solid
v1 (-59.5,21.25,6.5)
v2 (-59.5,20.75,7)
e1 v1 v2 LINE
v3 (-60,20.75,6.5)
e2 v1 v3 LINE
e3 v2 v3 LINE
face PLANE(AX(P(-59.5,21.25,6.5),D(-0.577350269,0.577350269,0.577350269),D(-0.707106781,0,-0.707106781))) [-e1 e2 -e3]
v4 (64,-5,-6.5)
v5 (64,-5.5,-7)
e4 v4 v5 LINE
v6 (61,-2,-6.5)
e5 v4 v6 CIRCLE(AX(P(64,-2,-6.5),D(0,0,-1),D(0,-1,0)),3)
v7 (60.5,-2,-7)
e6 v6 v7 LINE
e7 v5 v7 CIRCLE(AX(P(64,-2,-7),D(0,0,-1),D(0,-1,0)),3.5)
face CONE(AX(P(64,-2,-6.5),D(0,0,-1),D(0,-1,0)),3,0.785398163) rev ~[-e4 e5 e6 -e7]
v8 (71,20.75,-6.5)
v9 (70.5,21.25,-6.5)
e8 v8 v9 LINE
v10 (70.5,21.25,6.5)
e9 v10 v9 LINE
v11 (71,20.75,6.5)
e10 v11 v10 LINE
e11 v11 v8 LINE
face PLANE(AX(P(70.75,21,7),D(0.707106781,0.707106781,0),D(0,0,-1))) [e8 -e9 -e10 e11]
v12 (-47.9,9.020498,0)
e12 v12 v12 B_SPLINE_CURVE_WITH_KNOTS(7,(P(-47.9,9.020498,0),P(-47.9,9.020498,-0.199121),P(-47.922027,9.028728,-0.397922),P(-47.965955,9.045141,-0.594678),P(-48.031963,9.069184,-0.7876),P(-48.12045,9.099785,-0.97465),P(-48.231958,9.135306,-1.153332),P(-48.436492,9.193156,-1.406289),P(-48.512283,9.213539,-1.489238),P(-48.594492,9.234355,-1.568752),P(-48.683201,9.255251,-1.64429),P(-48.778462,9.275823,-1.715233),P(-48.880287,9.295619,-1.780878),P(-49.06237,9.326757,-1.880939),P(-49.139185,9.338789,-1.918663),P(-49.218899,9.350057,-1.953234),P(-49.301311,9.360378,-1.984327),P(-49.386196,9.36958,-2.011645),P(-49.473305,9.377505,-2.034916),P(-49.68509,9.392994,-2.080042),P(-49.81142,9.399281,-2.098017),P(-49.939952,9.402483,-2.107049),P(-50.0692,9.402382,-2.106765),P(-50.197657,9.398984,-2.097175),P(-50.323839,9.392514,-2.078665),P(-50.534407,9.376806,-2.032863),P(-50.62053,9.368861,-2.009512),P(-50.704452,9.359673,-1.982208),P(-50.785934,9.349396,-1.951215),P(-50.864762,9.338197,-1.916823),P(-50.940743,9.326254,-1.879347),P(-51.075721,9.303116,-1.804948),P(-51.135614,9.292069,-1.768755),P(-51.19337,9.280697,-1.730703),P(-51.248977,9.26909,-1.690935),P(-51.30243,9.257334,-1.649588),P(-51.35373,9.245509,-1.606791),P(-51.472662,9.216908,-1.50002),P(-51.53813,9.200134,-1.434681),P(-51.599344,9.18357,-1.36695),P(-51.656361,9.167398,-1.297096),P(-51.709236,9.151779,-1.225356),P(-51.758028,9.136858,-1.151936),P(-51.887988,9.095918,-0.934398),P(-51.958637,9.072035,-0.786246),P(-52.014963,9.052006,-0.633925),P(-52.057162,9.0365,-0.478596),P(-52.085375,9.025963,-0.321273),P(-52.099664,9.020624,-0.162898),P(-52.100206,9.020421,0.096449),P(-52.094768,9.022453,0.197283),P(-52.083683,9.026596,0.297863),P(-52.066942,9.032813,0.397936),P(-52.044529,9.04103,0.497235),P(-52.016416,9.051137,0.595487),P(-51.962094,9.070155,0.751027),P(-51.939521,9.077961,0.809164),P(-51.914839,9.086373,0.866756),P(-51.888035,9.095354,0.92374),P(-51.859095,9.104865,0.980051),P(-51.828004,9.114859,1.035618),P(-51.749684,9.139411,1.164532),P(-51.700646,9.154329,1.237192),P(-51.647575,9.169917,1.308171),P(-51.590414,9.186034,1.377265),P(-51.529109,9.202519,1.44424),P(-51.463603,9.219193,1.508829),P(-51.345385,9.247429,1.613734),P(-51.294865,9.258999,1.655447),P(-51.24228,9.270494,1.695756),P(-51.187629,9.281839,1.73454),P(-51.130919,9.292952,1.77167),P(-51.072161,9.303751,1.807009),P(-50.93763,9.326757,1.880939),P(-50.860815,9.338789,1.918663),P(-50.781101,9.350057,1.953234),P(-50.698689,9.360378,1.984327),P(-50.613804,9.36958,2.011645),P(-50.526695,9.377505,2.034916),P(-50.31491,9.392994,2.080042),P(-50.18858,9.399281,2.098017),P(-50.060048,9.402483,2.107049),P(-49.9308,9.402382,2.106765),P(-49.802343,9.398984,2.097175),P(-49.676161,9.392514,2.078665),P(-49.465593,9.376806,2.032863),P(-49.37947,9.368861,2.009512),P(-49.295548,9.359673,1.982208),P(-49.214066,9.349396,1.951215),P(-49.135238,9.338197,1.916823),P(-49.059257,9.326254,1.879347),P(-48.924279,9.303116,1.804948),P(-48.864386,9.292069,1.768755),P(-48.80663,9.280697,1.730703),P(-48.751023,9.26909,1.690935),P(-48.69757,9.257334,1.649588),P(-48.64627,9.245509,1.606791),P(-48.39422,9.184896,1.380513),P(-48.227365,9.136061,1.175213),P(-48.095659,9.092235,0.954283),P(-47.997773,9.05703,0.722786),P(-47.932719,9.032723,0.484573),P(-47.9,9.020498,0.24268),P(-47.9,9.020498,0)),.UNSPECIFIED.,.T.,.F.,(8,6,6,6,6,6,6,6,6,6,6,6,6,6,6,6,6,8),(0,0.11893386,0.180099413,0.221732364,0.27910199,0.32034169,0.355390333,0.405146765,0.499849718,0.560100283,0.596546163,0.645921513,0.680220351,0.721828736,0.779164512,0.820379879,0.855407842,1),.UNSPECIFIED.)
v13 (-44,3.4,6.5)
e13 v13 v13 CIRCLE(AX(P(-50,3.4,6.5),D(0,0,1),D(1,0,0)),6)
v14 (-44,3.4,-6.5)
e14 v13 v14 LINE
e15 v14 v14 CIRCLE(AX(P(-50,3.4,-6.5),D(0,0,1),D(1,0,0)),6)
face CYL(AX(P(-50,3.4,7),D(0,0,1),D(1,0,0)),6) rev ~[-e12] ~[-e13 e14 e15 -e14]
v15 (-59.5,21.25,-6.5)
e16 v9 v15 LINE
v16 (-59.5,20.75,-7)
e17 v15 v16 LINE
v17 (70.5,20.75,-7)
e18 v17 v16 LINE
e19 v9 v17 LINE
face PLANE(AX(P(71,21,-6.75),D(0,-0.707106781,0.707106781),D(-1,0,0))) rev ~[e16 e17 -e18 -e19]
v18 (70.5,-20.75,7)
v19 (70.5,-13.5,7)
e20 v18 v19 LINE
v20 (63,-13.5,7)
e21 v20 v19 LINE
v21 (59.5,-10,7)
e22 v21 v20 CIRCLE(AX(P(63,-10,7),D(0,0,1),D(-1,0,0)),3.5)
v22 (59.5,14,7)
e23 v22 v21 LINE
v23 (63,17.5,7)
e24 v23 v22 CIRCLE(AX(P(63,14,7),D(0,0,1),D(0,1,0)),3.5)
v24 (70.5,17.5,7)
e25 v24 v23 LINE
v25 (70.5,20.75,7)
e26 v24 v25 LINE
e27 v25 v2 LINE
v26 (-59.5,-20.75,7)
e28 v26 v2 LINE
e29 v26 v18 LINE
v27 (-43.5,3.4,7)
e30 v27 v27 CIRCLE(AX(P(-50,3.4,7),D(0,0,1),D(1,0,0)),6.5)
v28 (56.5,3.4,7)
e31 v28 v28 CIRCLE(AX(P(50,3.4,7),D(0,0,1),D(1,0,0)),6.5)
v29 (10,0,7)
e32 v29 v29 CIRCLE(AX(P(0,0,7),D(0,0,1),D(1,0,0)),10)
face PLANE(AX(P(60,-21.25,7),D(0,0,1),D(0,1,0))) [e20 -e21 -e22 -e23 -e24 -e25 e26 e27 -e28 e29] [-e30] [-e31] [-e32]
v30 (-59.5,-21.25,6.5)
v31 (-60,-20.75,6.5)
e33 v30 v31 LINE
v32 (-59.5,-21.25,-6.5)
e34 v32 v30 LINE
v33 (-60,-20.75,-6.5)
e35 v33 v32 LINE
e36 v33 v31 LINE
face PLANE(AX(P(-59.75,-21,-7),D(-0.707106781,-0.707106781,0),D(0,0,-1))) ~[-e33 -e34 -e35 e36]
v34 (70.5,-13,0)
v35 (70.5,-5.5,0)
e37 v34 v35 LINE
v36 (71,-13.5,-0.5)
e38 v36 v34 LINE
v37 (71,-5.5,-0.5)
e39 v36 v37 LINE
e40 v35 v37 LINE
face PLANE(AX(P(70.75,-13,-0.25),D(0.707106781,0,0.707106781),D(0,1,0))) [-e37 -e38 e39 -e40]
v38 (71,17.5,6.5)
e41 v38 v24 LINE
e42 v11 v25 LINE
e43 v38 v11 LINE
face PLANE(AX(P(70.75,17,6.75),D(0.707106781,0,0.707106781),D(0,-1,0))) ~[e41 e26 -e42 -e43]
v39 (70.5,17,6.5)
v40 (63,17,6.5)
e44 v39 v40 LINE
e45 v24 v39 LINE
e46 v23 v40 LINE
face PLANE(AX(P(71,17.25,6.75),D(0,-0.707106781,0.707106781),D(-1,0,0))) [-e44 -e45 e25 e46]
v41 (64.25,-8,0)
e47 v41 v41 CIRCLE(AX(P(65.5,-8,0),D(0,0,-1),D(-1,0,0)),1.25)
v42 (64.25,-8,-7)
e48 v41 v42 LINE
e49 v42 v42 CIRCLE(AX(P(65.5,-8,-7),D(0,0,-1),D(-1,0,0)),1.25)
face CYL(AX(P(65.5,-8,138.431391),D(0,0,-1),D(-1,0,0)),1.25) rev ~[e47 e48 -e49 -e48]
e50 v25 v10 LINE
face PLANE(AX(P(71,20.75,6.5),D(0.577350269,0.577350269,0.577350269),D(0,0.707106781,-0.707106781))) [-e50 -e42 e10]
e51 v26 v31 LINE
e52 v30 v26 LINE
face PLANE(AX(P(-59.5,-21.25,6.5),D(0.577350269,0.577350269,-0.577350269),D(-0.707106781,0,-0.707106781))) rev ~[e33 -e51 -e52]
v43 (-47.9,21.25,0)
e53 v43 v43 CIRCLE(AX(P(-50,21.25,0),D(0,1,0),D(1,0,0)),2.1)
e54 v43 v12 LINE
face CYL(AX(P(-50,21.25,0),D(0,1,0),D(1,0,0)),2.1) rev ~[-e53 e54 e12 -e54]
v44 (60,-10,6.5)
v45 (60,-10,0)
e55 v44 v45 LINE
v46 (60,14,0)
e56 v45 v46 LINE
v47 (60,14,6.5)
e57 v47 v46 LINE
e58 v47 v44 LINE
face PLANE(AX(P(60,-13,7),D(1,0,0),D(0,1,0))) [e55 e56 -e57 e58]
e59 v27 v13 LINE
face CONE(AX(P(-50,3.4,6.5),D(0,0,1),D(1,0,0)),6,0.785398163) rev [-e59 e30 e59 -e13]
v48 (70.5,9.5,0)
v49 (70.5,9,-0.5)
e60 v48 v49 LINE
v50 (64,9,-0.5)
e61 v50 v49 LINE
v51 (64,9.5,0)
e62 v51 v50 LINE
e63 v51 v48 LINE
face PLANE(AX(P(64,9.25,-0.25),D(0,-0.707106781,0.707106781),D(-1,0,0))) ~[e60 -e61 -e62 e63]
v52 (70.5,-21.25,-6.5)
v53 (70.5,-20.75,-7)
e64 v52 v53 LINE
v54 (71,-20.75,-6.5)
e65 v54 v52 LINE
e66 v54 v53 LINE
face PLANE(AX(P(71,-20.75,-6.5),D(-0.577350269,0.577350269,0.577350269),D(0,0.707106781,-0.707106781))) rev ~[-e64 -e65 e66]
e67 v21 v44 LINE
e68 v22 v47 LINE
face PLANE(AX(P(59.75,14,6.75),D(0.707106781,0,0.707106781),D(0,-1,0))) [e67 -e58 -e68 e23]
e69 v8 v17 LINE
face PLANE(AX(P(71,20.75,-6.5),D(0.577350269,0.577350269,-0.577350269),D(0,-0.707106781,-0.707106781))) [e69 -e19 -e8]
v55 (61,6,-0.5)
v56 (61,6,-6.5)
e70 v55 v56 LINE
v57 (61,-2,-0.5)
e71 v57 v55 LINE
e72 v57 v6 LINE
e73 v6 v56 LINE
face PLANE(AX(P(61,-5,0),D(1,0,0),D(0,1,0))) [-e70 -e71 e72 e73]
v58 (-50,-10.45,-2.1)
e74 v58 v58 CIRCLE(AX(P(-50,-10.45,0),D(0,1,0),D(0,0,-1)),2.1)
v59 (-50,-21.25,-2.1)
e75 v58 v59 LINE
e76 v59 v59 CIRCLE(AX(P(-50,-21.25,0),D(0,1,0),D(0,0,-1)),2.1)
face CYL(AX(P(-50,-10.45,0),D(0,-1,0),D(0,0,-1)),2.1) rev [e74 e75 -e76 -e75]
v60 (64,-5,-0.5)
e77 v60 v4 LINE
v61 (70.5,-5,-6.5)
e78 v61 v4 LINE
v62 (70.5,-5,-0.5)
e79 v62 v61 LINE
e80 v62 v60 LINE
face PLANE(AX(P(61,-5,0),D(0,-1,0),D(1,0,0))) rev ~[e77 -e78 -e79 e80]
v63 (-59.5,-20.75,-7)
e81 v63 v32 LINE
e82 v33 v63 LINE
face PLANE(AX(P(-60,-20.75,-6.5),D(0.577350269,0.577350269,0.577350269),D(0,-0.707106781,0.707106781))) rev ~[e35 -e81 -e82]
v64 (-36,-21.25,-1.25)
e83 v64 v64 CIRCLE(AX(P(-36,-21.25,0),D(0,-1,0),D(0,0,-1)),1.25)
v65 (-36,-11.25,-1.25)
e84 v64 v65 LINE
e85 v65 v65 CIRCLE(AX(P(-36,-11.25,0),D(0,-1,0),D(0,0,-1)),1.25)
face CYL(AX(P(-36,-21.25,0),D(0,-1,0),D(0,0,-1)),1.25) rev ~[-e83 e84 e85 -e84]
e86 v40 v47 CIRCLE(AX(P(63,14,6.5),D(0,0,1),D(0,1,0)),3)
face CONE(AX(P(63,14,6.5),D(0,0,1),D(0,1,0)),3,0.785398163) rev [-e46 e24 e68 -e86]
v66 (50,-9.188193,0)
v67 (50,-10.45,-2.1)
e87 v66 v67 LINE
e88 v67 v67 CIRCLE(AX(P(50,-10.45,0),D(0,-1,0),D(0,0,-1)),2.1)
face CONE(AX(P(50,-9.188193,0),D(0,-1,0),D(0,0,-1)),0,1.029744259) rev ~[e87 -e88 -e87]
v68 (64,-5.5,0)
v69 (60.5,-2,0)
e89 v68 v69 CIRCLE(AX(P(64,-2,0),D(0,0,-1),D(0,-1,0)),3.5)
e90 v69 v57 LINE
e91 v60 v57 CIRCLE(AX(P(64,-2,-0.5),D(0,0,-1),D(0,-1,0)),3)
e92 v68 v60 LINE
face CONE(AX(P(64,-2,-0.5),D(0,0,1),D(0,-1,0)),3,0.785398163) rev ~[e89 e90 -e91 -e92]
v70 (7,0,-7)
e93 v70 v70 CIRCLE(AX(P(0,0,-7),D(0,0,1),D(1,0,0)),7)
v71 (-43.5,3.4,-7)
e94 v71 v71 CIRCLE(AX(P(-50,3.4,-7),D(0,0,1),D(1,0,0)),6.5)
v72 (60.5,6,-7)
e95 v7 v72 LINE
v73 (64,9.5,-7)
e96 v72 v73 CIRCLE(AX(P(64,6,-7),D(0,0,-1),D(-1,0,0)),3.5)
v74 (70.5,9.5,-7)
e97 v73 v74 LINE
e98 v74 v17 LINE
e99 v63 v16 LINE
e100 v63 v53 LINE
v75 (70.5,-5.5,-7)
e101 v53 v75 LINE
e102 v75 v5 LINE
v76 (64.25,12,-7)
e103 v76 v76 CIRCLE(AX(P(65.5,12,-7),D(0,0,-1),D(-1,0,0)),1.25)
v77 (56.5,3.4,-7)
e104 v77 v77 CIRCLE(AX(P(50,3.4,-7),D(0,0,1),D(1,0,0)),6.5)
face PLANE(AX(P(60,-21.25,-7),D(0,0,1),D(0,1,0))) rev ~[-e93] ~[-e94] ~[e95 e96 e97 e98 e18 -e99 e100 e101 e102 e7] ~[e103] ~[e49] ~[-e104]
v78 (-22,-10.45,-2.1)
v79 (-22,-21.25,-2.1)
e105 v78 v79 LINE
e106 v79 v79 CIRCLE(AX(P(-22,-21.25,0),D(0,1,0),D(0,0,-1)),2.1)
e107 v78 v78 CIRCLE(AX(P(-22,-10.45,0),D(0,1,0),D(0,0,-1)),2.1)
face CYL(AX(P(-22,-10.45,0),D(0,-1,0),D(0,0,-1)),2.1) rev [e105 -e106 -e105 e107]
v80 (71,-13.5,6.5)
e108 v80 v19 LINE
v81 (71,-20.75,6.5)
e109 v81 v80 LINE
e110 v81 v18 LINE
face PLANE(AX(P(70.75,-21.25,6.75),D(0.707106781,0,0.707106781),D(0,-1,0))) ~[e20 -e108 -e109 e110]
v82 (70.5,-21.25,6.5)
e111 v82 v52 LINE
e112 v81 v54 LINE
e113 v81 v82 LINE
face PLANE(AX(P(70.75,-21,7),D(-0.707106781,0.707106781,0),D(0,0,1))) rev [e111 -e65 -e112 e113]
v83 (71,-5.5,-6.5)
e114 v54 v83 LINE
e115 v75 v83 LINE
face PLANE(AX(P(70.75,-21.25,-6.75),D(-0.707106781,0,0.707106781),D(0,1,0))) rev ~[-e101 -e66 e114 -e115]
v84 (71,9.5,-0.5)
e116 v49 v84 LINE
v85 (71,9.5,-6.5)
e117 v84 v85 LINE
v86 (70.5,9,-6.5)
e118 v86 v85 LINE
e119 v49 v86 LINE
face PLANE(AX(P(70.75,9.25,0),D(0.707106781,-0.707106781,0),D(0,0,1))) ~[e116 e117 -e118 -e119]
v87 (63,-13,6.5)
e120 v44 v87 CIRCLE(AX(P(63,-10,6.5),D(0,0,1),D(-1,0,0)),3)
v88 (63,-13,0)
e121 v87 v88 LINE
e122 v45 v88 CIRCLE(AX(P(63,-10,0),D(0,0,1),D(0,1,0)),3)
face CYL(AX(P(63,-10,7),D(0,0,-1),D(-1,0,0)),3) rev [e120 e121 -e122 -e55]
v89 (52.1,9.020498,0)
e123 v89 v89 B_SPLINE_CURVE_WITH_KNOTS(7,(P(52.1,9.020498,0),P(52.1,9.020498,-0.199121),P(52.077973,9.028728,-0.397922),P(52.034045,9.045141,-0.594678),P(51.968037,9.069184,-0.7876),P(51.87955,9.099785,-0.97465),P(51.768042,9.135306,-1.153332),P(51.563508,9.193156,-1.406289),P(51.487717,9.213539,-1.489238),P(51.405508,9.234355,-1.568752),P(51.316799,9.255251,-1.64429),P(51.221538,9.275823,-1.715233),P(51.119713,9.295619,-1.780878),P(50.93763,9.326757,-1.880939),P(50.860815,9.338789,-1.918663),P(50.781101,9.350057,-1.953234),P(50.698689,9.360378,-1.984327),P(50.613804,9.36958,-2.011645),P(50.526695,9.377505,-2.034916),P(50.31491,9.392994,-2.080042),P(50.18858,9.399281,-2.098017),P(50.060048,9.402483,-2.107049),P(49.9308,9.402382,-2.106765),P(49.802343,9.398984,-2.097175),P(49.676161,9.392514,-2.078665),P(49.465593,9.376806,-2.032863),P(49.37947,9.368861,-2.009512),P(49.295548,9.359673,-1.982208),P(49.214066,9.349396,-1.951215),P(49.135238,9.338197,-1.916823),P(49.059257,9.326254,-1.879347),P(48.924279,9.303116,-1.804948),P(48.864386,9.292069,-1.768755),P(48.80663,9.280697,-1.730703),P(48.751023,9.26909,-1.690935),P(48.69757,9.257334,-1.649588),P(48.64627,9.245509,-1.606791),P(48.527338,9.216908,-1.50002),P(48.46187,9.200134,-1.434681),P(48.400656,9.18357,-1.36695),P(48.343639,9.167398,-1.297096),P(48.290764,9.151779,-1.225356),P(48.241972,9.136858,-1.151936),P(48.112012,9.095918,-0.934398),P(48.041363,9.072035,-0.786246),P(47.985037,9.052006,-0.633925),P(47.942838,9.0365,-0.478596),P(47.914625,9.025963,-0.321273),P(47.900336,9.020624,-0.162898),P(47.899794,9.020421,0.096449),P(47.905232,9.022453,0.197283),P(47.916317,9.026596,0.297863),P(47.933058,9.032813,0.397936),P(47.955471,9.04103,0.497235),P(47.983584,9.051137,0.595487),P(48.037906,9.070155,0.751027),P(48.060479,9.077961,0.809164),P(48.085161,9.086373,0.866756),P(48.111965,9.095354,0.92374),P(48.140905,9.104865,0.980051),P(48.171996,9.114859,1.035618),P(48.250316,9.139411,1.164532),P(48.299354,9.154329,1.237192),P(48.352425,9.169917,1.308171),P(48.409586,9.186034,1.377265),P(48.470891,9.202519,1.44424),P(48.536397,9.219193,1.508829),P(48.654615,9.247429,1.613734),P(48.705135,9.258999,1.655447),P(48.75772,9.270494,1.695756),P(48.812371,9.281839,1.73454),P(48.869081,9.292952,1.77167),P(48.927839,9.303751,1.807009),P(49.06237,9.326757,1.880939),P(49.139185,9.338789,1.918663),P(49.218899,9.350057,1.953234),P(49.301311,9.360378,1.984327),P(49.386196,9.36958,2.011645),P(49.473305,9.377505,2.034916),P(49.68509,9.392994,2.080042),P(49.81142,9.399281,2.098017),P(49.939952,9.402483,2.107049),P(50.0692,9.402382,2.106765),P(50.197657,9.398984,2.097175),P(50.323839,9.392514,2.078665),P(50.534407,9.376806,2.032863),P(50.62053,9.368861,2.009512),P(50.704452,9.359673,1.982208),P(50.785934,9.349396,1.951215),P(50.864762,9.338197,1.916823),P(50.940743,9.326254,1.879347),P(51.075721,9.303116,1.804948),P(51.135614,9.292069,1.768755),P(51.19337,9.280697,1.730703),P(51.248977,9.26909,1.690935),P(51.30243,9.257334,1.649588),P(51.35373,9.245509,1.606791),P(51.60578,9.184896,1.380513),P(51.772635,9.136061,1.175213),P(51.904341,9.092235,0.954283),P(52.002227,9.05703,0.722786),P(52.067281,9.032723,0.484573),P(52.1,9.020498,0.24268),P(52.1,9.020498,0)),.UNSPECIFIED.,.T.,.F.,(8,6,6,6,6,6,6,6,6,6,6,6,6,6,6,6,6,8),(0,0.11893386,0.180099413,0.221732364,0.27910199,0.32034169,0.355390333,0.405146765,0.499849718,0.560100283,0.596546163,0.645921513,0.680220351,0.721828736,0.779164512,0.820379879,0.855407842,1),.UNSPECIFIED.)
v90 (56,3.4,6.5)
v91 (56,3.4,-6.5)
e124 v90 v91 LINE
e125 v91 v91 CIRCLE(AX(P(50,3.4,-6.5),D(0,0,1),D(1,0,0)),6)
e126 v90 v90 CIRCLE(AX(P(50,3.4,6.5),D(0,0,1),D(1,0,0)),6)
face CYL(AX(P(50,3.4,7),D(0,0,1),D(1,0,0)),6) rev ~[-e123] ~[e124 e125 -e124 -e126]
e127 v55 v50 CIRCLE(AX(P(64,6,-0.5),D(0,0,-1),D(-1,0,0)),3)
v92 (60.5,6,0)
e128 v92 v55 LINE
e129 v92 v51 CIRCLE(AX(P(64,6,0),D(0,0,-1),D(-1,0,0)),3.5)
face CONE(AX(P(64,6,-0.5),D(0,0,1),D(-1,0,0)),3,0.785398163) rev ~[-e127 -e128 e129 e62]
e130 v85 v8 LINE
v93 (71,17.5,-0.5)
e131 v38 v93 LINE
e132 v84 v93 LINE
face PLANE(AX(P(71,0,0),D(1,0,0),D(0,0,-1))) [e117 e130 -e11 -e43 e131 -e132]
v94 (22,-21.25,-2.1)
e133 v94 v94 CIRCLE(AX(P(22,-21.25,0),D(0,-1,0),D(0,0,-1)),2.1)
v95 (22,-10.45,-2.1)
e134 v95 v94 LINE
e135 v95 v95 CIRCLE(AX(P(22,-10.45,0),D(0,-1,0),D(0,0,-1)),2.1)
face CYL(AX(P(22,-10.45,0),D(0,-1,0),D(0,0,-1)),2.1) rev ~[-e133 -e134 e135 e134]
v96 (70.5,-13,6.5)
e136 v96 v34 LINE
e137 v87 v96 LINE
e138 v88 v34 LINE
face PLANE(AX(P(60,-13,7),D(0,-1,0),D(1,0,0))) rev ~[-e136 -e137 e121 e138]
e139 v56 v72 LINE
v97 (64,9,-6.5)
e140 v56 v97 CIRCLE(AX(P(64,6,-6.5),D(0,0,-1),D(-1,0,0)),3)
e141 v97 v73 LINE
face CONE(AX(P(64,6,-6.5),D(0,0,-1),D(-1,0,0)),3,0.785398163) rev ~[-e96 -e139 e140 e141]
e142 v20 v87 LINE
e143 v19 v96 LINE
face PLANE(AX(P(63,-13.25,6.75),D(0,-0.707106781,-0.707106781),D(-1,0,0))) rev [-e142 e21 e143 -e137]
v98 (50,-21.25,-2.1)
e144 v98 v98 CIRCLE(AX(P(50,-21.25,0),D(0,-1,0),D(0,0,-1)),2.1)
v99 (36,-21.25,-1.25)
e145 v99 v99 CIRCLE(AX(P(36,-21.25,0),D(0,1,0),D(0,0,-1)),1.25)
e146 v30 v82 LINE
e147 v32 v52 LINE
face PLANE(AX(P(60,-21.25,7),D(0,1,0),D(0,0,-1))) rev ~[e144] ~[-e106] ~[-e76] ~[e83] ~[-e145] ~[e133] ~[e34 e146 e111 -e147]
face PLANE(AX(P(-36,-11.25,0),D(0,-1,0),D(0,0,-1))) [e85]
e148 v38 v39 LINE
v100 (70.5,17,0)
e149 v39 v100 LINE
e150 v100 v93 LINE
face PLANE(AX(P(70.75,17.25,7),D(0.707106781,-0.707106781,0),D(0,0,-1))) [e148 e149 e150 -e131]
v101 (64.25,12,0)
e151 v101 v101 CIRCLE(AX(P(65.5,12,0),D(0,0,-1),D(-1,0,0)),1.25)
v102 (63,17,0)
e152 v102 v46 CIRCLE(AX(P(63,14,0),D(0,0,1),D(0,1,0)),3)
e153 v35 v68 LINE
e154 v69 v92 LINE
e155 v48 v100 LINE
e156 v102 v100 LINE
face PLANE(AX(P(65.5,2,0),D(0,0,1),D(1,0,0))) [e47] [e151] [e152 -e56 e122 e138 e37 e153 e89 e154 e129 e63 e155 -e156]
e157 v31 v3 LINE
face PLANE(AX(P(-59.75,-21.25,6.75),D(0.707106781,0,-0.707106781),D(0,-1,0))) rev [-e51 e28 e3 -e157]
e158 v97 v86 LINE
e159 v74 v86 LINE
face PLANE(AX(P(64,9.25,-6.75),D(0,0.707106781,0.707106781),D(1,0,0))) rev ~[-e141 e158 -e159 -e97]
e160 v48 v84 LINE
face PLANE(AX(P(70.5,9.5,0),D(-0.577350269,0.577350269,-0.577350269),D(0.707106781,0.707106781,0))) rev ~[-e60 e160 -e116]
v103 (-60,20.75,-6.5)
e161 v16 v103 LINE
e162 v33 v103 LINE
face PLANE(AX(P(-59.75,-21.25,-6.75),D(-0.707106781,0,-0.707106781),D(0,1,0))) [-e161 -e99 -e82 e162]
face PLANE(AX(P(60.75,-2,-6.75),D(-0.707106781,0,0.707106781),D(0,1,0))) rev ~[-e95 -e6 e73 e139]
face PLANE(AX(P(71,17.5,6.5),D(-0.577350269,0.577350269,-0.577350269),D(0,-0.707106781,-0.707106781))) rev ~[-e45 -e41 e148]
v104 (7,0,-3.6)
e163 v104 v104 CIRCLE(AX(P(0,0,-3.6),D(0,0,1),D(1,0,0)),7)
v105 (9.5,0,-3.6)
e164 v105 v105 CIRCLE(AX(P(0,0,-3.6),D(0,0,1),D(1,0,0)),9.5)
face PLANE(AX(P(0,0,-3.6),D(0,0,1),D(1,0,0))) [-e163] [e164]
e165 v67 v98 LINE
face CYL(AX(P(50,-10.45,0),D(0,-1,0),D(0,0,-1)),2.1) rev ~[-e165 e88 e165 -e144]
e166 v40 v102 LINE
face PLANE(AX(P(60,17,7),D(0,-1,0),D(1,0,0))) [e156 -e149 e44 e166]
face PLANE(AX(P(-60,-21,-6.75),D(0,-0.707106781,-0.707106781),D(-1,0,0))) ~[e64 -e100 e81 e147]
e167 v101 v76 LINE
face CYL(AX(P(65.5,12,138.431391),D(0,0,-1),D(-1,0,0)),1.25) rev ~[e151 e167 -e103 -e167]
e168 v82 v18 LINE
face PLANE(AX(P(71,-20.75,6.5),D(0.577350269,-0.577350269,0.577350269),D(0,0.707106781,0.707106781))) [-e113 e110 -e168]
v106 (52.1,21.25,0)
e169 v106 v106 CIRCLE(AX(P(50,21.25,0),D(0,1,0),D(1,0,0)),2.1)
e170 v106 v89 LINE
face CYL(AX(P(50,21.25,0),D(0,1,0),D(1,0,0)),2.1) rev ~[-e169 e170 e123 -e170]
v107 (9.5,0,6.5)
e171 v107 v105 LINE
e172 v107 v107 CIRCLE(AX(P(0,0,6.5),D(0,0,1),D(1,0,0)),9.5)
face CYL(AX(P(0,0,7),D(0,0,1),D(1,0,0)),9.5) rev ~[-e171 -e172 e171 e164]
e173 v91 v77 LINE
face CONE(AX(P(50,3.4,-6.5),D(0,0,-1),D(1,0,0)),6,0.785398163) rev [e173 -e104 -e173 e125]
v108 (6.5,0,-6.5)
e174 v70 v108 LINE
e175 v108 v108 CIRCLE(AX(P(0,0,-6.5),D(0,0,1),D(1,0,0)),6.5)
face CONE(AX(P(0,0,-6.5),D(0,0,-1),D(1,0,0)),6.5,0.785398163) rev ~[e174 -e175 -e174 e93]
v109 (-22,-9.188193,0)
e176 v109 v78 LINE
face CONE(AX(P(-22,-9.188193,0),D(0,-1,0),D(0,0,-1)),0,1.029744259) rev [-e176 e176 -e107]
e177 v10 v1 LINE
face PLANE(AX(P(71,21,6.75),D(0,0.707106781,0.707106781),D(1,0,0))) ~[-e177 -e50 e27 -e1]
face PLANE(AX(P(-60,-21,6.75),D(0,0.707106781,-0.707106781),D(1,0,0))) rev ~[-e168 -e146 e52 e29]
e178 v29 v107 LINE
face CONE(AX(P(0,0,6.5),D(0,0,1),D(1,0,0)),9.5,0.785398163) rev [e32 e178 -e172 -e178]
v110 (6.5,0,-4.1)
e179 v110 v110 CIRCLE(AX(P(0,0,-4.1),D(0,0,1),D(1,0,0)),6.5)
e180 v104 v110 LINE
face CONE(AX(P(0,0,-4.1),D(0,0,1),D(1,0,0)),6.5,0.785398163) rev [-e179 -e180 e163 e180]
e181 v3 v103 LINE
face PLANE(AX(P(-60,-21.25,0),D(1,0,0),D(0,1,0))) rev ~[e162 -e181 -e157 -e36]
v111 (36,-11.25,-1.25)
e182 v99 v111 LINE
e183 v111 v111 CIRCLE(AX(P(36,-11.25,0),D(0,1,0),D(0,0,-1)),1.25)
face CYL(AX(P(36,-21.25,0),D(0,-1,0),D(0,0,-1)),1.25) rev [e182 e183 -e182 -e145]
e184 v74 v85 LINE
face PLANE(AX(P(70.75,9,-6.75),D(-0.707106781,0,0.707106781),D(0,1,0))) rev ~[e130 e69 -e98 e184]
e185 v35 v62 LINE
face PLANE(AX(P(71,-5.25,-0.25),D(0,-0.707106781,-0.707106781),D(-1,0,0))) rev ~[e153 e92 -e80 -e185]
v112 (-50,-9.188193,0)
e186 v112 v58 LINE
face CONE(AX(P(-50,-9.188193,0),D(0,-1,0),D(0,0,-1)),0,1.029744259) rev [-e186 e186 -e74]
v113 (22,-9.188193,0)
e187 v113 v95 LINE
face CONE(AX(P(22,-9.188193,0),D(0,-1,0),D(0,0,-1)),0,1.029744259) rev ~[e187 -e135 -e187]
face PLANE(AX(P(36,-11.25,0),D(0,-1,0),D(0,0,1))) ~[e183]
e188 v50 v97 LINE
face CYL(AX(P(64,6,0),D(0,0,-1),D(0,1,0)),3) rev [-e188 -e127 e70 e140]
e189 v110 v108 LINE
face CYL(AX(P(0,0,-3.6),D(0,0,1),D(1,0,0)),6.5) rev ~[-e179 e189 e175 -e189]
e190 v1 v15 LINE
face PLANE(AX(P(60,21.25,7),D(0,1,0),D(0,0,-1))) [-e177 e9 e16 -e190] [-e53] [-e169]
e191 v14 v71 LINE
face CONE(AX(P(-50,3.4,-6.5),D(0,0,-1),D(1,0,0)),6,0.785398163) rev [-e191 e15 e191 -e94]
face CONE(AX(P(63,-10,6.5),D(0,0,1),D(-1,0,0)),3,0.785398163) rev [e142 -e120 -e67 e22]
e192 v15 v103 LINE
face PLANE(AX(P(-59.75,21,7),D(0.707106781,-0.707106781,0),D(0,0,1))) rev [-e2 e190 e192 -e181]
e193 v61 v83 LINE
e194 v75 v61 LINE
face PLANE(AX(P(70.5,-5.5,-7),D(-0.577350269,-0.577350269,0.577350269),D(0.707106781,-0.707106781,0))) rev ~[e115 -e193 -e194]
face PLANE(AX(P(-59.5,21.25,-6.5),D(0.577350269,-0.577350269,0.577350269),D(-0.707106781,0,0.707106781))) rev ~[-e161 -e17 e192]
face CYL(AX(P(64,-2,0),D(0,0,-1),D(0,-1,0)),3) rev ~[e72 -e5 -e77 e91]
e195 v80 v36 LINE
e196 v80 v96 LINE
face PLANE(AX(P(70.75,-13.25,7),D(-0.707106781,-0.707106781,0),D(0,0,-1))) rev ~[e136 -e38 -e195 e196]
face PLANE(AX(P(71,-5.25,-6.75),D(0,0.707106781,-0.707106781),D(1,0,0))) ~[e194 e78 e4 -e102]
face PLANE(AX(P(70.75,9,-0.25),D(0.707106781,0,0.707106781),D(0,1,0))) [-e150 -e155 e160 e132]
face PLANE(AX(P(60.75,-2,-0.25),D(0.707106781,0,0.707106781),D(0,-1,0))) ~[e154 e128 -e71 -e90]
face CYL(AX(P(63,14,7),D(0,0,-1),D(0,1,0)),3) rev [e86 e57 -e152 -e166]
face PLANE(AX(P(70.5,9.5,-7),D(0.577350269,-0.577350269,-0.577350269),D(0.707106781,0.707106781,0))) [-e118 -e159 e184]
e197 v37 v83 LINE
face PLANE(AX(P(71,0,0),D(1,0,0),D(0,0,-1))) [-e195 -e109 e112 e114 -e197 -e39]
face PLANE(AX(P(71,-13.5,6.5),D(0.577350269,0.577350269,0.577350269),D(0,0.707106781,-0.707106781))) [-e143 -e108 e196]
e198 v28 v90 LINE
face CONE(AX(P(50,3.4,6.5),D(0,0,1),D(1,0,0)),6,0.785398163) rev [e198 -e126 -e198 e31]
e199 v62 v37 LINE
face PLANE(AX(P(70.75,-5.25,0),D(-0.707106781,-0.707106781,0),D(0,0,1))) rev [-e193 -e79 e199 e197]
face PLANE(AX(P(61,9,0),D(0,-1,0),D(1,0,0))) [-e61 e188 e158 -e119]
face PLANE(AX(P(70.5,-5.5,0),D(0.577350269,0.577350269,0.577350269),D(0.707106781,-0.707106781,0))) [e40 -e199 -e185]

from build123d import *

# Parameters (mm, degrees)
SKETCH1_W                      = 120
SKETCH1_H                      = 42.5
BOSS_EXTRUDE1_DEPTH            = 7
SKETCH2_R                      = 9.5
CUT_EXTRUDE1_DEPTH             = 10.6
SKETCH3_R                      = 6.5
CUT_EXTRUDE2_DEPTH             = 65.528462712
SKETCH5_R                      = 6
CUT_EXTRUDE4_DEPTH             = 66.173326599
M5X0_8_TAPPED_HOLE1_AT_2_COUNT = 2
M5X0_8_TAPPED_HOLE1_AT_2_PITCH = 28
SKETCH19_R                     = 1.25
CUT_EXTRUDE7_DEPTH             = 10
M5X0_8_TAPPED_HOLE2_REACH      = 75.86
M5X0_8_TAPPED_HOLE2_BORE_R     = 2.1
SKETCH14_W                     = 14
SKETCH14_H                     = 42.5
BOSS_EXTRUDE2_DEPTH            = 11
SKETCH15_W                     = 11
SKETCH15_H                     = 30
CUT_EXTRUDE5_DEPTH             = 7
SKETCH16_W                     = 10
SKETCH16_H                     = 14
CUT_EXTRUDE6_DEPTH             = 75.441671835
FILLET1_R                      = 3
M3X0_5_TAPPED_HOLE1_D          = 2.5
CHAMFER1_SIZE                  = 0.5


with BuildPart() as part:
    # Sketch1 → Boss-Extrude1 (new, symmetric)
    with BuildSketch(Plane.XY):
        Rectangle(SKETCH1_W, SKETCH1_H)
    extrude(amount=BOSS_EXTRUDE1_DEPTH, both=True)

    # Sketch2 → Cut-Extrude1 (cut)
    with BuildSketch(Plane.XY.offset(7)):
        Circle(SKETCH2_R)
    extrude(amount=-CUT_EXTRUDE1_DEPTH, mode=Mode.SUBTRACT)

    # Sketch3 → Cut-Extrude2 (cut, through all)
    with BuildSketch(Plane.XY.offset(-3.6)):
        Circle(SKETCH3_R)
    extrude(amount=-CUT_EXTRUDE2_DEPTH, mode=Mode.SUBTRACT)

    # Sketch5 → Cut-Extrude4 (cut, through all)
    with BuildSketch(Plane.XY.offset(7)):
        with Locations((-50, 3.4)):
            Circle(SKETCH5_R)
        with Locations((50, 3.4)):
            Circle(SKETCH5_R)
    extrude(amount=-CUT_EXTRUDE4_DEPTH, mode=Mode.SUBTRACT)

    # Sketch8 → M5x0.8 Tapped Hole1 (revolve, cut)
    with BuildSketch(Plane(origin=(-22, -21.25, 0), x_dir=(0, 0, -1), z_dir=(1, 0, 0))):
        Polygon((0, 0), (0, 12.0618073), (2.1, 10.8), (2.1, 0), align=None)
    m5x0_8_tapped_hole1 = revolve(axis=Axis((-22, -27.6, 0), (0, 1, 0)), mode=Mode.SUBTRACT)

    # M5x0.8 Tapped Hole1 at 2: M5x0.8 Tapped Hole1 ×2
    with Locations(*[(-i * M5X0_8_TAPPED_HOLE1_AT_2_PITCH, 0, 0) for i in range(1, M5X0_8_TAPPED_HOLE1_AT_2_COUNT)]):
        add(m5x0_8_tapped_hole1, mode=Mode.SUBTRACT)

    # Sketch19 → Cut-Extrude7 (cut)
    with BuildSketch(Plane.XZ.offset(21.25)):
        with Locations(Location((-36, 0, 0), (0, 0, 270))):
            Circle(SKETCH19_R)
    cut_extrude7 = extrude(amount=-CUT_EXTRUDE7_DEPTH, mode=Mode.SUBTRACT)

    # Mirror1: M5x0.8 Tapped Hole1, Cut-Extrude7 across plane
    add(m5x0_8_tapped_hole1.mirror(Plane(origin=(0, 0, 0), x_dir=(0, 0, 1), z_dir=(1, 0, 0))), mode=Mode.SUBTRACT)
    add(cut_extrude7.mirror(Plane(origin=(0, 0, 0), x_dir=(0, 0, 1), z_dir=(1, 0, 0))), mode=Mode.SUBTRACT)

    # Mirror1 copy 1 sketch → Mirror1 copy 1 (revolve, cut)
    with BuildSketch(Plane(origin=(50, -21.25, 0), x_dir=(0, 0, -1), z_dir=(-1, 0, 0))):
        Polygon((0, 0), (0, -12.0618073), (2.1, -10.8), (2.1, 0), align=None)
    revolve(axis=Axis((50, -27.6, 0), (0, -1, 0)), mode=Mode.SUBTRACT)

    # M5x0.8 Tapped Hole2 bore → M5x0.8 Tapped Hole2 (cut, up to next)
    with BuildSketch(Plane(origin=(0, 21.25, 0), x_dir=(1, 0, 0), z_dir=(0, 1, 0)), mode=Mode.PRIVATE) as m5x0_8_tapped_hole2_sk1:
        with Locations((-50, 0)):
            Circle(M5X0_8_TAPPED_HOLE2_BORE_R)
    m5x0_8_tapped_hole2_tool1 = extrude(m5x0_8_tapped_hole2_sk1.sketch, amount=-M5X0_8_TAPPED_HOLE2_REACH, mode=Mode.PRIVATE) & part.part
    # M5x0.8 Tapped Hole2 bore → M5x0.8 Tapped Hole2 (cut, up to next)
    with BuildSketch(Plane(origin=(0, 21.25, 0), x_dir=(1, 0, 0), z_dir=(0, 1, 0)), mode=Mode.PRIVATE) as m5x0_8_tapped_hole2_sk2:
        with Locations((50, 0)):
            Circle(M5X0_8_TAPPED_HOLE2_BORE_R)
    m5x0_8_tapped_hole2_tool2 = extrude(m5x0_8_tapped_hole2_sk2.sketch, amount=-M5X0_8_TAPPED_HOLE2_REACH, mode=Mode.PRIVATE) & part.part
    add(m5x0_8_tapped_hole2_tool1.solids().sort_by_distance((-50, 21.25, 0))[0], mode=Mode.SUBTRACT)
    add(m5x0_8_tapped_hole2_tool2.solids().sort_by_distance((50, 21.25, 0))[0], mode=Mode.SUBTRACT)

    # Sketch14 → Boss-Extrude2 (add)
    with BuildSketch(Plane(origin=(60, 0, 0), x_dir=(0, 0, -1), z_dir=(1, 0, 0))):
        Rectangle(SKETCH14_W, SKETCH14_H)
    extrude(amount=BOSS_EXTRUDE2_DEPTH)

    # Sketch15 → Cut-Extrude5 (cut)
    with BuildSketch(Plane.XY.offset(7)):
        with Locations((65.5, 2)):
            Rectangle(SKETCH15_W, SKETCH15_H)
    extrude(amount=-CUT_EXTRUDE5_DEPTH, mode=Mode.SUBTRACT)

    # Sketch16 → Cut-Extrude6 (cut, through all)
    with BuildSketch(Plane.XY):
        with Locations((66, 2)):
            Rectangle(SKETCH16_W, SKETCH16_H)
    extrude(amount=-CUT_EXTRUDE6_DEPTH, mode=Mode.SUBTRACT)

    # Fillet1
    fillet1_edges = [part.edges().sort_by_distance(p)[0] for p in [
        (61, -5, -3.5),
        (61, 9, -3.5),
        (60, -13, 3.5),
        (60, 17, 3.5),
    ]]
    fillet(fillet1_edges, radius=FILLET1_R)

    # M3x0.5 Tapped Hole1 (through all)
    with Locations(Plane.XY):
        with Locations((65.5, 12), (65.5, -8)):
            Hole(M3X0_5_TAPPED_HOLE1_D / 2)

    # Chamfer1
    chamfer1_edges = [part.edges().sort_by_distance(p)[0] for p in [
        (-60, 0, 7),
        (71, 9, -3.5),
        (71, -5, -3.5),
        (67.5, 9, -7),
        (67.5, 9, 0),
        (67.5, -5, 0),
        (67.5, -5, -7),
        (61, 2, 0),
        (61, 2, -7),
        (67, -13, 7),
        (60, 2, 7),
        (61.878679656, -4.121320344, 0),
        (61.878679656, -4.121320344, -7),
        (60.878679656, -12.121320344, 7),
        (60.878679656, 16.121320344, 7),
        (61.878679656, 8.121320344, 0),
        (61.878679656, 8.121320344, -7),
        (5.5, -21.25, 7),
        (-9.5, 0, 7),
        (-6.5, 0, -7),
        (-6.5, 0, -3.6),
        (-56, 3.4, -7),
        (-56, 3.4, 7),
        (44, 3.4, -7),
        (44, 3.4, 7),
        (5.5, -21.25, -7),
        (-60, 0, -7),
        (5.5, 21.25, -7),
        (5.5, 21.25, 7),
        (71, 19.125, 7),
        (71, -21.25, 0),
        (71, -13.125, -7),
        (71, 21.25, 0),
        (-60, -21.25, 0),
        (-60, 21.25, 0),
        (71, -17.125, 7),
        (71, -9, 0),
        (71, 17, 3.5),
        (71, -13, 3.5),
        (67, 17, 7),
        (71, 13, 0),
        (71, 15.125, -7),
    ]]
    chamfer(chamfer1_edges, length=CHAMFER1_SIZE)


solid = part.part
